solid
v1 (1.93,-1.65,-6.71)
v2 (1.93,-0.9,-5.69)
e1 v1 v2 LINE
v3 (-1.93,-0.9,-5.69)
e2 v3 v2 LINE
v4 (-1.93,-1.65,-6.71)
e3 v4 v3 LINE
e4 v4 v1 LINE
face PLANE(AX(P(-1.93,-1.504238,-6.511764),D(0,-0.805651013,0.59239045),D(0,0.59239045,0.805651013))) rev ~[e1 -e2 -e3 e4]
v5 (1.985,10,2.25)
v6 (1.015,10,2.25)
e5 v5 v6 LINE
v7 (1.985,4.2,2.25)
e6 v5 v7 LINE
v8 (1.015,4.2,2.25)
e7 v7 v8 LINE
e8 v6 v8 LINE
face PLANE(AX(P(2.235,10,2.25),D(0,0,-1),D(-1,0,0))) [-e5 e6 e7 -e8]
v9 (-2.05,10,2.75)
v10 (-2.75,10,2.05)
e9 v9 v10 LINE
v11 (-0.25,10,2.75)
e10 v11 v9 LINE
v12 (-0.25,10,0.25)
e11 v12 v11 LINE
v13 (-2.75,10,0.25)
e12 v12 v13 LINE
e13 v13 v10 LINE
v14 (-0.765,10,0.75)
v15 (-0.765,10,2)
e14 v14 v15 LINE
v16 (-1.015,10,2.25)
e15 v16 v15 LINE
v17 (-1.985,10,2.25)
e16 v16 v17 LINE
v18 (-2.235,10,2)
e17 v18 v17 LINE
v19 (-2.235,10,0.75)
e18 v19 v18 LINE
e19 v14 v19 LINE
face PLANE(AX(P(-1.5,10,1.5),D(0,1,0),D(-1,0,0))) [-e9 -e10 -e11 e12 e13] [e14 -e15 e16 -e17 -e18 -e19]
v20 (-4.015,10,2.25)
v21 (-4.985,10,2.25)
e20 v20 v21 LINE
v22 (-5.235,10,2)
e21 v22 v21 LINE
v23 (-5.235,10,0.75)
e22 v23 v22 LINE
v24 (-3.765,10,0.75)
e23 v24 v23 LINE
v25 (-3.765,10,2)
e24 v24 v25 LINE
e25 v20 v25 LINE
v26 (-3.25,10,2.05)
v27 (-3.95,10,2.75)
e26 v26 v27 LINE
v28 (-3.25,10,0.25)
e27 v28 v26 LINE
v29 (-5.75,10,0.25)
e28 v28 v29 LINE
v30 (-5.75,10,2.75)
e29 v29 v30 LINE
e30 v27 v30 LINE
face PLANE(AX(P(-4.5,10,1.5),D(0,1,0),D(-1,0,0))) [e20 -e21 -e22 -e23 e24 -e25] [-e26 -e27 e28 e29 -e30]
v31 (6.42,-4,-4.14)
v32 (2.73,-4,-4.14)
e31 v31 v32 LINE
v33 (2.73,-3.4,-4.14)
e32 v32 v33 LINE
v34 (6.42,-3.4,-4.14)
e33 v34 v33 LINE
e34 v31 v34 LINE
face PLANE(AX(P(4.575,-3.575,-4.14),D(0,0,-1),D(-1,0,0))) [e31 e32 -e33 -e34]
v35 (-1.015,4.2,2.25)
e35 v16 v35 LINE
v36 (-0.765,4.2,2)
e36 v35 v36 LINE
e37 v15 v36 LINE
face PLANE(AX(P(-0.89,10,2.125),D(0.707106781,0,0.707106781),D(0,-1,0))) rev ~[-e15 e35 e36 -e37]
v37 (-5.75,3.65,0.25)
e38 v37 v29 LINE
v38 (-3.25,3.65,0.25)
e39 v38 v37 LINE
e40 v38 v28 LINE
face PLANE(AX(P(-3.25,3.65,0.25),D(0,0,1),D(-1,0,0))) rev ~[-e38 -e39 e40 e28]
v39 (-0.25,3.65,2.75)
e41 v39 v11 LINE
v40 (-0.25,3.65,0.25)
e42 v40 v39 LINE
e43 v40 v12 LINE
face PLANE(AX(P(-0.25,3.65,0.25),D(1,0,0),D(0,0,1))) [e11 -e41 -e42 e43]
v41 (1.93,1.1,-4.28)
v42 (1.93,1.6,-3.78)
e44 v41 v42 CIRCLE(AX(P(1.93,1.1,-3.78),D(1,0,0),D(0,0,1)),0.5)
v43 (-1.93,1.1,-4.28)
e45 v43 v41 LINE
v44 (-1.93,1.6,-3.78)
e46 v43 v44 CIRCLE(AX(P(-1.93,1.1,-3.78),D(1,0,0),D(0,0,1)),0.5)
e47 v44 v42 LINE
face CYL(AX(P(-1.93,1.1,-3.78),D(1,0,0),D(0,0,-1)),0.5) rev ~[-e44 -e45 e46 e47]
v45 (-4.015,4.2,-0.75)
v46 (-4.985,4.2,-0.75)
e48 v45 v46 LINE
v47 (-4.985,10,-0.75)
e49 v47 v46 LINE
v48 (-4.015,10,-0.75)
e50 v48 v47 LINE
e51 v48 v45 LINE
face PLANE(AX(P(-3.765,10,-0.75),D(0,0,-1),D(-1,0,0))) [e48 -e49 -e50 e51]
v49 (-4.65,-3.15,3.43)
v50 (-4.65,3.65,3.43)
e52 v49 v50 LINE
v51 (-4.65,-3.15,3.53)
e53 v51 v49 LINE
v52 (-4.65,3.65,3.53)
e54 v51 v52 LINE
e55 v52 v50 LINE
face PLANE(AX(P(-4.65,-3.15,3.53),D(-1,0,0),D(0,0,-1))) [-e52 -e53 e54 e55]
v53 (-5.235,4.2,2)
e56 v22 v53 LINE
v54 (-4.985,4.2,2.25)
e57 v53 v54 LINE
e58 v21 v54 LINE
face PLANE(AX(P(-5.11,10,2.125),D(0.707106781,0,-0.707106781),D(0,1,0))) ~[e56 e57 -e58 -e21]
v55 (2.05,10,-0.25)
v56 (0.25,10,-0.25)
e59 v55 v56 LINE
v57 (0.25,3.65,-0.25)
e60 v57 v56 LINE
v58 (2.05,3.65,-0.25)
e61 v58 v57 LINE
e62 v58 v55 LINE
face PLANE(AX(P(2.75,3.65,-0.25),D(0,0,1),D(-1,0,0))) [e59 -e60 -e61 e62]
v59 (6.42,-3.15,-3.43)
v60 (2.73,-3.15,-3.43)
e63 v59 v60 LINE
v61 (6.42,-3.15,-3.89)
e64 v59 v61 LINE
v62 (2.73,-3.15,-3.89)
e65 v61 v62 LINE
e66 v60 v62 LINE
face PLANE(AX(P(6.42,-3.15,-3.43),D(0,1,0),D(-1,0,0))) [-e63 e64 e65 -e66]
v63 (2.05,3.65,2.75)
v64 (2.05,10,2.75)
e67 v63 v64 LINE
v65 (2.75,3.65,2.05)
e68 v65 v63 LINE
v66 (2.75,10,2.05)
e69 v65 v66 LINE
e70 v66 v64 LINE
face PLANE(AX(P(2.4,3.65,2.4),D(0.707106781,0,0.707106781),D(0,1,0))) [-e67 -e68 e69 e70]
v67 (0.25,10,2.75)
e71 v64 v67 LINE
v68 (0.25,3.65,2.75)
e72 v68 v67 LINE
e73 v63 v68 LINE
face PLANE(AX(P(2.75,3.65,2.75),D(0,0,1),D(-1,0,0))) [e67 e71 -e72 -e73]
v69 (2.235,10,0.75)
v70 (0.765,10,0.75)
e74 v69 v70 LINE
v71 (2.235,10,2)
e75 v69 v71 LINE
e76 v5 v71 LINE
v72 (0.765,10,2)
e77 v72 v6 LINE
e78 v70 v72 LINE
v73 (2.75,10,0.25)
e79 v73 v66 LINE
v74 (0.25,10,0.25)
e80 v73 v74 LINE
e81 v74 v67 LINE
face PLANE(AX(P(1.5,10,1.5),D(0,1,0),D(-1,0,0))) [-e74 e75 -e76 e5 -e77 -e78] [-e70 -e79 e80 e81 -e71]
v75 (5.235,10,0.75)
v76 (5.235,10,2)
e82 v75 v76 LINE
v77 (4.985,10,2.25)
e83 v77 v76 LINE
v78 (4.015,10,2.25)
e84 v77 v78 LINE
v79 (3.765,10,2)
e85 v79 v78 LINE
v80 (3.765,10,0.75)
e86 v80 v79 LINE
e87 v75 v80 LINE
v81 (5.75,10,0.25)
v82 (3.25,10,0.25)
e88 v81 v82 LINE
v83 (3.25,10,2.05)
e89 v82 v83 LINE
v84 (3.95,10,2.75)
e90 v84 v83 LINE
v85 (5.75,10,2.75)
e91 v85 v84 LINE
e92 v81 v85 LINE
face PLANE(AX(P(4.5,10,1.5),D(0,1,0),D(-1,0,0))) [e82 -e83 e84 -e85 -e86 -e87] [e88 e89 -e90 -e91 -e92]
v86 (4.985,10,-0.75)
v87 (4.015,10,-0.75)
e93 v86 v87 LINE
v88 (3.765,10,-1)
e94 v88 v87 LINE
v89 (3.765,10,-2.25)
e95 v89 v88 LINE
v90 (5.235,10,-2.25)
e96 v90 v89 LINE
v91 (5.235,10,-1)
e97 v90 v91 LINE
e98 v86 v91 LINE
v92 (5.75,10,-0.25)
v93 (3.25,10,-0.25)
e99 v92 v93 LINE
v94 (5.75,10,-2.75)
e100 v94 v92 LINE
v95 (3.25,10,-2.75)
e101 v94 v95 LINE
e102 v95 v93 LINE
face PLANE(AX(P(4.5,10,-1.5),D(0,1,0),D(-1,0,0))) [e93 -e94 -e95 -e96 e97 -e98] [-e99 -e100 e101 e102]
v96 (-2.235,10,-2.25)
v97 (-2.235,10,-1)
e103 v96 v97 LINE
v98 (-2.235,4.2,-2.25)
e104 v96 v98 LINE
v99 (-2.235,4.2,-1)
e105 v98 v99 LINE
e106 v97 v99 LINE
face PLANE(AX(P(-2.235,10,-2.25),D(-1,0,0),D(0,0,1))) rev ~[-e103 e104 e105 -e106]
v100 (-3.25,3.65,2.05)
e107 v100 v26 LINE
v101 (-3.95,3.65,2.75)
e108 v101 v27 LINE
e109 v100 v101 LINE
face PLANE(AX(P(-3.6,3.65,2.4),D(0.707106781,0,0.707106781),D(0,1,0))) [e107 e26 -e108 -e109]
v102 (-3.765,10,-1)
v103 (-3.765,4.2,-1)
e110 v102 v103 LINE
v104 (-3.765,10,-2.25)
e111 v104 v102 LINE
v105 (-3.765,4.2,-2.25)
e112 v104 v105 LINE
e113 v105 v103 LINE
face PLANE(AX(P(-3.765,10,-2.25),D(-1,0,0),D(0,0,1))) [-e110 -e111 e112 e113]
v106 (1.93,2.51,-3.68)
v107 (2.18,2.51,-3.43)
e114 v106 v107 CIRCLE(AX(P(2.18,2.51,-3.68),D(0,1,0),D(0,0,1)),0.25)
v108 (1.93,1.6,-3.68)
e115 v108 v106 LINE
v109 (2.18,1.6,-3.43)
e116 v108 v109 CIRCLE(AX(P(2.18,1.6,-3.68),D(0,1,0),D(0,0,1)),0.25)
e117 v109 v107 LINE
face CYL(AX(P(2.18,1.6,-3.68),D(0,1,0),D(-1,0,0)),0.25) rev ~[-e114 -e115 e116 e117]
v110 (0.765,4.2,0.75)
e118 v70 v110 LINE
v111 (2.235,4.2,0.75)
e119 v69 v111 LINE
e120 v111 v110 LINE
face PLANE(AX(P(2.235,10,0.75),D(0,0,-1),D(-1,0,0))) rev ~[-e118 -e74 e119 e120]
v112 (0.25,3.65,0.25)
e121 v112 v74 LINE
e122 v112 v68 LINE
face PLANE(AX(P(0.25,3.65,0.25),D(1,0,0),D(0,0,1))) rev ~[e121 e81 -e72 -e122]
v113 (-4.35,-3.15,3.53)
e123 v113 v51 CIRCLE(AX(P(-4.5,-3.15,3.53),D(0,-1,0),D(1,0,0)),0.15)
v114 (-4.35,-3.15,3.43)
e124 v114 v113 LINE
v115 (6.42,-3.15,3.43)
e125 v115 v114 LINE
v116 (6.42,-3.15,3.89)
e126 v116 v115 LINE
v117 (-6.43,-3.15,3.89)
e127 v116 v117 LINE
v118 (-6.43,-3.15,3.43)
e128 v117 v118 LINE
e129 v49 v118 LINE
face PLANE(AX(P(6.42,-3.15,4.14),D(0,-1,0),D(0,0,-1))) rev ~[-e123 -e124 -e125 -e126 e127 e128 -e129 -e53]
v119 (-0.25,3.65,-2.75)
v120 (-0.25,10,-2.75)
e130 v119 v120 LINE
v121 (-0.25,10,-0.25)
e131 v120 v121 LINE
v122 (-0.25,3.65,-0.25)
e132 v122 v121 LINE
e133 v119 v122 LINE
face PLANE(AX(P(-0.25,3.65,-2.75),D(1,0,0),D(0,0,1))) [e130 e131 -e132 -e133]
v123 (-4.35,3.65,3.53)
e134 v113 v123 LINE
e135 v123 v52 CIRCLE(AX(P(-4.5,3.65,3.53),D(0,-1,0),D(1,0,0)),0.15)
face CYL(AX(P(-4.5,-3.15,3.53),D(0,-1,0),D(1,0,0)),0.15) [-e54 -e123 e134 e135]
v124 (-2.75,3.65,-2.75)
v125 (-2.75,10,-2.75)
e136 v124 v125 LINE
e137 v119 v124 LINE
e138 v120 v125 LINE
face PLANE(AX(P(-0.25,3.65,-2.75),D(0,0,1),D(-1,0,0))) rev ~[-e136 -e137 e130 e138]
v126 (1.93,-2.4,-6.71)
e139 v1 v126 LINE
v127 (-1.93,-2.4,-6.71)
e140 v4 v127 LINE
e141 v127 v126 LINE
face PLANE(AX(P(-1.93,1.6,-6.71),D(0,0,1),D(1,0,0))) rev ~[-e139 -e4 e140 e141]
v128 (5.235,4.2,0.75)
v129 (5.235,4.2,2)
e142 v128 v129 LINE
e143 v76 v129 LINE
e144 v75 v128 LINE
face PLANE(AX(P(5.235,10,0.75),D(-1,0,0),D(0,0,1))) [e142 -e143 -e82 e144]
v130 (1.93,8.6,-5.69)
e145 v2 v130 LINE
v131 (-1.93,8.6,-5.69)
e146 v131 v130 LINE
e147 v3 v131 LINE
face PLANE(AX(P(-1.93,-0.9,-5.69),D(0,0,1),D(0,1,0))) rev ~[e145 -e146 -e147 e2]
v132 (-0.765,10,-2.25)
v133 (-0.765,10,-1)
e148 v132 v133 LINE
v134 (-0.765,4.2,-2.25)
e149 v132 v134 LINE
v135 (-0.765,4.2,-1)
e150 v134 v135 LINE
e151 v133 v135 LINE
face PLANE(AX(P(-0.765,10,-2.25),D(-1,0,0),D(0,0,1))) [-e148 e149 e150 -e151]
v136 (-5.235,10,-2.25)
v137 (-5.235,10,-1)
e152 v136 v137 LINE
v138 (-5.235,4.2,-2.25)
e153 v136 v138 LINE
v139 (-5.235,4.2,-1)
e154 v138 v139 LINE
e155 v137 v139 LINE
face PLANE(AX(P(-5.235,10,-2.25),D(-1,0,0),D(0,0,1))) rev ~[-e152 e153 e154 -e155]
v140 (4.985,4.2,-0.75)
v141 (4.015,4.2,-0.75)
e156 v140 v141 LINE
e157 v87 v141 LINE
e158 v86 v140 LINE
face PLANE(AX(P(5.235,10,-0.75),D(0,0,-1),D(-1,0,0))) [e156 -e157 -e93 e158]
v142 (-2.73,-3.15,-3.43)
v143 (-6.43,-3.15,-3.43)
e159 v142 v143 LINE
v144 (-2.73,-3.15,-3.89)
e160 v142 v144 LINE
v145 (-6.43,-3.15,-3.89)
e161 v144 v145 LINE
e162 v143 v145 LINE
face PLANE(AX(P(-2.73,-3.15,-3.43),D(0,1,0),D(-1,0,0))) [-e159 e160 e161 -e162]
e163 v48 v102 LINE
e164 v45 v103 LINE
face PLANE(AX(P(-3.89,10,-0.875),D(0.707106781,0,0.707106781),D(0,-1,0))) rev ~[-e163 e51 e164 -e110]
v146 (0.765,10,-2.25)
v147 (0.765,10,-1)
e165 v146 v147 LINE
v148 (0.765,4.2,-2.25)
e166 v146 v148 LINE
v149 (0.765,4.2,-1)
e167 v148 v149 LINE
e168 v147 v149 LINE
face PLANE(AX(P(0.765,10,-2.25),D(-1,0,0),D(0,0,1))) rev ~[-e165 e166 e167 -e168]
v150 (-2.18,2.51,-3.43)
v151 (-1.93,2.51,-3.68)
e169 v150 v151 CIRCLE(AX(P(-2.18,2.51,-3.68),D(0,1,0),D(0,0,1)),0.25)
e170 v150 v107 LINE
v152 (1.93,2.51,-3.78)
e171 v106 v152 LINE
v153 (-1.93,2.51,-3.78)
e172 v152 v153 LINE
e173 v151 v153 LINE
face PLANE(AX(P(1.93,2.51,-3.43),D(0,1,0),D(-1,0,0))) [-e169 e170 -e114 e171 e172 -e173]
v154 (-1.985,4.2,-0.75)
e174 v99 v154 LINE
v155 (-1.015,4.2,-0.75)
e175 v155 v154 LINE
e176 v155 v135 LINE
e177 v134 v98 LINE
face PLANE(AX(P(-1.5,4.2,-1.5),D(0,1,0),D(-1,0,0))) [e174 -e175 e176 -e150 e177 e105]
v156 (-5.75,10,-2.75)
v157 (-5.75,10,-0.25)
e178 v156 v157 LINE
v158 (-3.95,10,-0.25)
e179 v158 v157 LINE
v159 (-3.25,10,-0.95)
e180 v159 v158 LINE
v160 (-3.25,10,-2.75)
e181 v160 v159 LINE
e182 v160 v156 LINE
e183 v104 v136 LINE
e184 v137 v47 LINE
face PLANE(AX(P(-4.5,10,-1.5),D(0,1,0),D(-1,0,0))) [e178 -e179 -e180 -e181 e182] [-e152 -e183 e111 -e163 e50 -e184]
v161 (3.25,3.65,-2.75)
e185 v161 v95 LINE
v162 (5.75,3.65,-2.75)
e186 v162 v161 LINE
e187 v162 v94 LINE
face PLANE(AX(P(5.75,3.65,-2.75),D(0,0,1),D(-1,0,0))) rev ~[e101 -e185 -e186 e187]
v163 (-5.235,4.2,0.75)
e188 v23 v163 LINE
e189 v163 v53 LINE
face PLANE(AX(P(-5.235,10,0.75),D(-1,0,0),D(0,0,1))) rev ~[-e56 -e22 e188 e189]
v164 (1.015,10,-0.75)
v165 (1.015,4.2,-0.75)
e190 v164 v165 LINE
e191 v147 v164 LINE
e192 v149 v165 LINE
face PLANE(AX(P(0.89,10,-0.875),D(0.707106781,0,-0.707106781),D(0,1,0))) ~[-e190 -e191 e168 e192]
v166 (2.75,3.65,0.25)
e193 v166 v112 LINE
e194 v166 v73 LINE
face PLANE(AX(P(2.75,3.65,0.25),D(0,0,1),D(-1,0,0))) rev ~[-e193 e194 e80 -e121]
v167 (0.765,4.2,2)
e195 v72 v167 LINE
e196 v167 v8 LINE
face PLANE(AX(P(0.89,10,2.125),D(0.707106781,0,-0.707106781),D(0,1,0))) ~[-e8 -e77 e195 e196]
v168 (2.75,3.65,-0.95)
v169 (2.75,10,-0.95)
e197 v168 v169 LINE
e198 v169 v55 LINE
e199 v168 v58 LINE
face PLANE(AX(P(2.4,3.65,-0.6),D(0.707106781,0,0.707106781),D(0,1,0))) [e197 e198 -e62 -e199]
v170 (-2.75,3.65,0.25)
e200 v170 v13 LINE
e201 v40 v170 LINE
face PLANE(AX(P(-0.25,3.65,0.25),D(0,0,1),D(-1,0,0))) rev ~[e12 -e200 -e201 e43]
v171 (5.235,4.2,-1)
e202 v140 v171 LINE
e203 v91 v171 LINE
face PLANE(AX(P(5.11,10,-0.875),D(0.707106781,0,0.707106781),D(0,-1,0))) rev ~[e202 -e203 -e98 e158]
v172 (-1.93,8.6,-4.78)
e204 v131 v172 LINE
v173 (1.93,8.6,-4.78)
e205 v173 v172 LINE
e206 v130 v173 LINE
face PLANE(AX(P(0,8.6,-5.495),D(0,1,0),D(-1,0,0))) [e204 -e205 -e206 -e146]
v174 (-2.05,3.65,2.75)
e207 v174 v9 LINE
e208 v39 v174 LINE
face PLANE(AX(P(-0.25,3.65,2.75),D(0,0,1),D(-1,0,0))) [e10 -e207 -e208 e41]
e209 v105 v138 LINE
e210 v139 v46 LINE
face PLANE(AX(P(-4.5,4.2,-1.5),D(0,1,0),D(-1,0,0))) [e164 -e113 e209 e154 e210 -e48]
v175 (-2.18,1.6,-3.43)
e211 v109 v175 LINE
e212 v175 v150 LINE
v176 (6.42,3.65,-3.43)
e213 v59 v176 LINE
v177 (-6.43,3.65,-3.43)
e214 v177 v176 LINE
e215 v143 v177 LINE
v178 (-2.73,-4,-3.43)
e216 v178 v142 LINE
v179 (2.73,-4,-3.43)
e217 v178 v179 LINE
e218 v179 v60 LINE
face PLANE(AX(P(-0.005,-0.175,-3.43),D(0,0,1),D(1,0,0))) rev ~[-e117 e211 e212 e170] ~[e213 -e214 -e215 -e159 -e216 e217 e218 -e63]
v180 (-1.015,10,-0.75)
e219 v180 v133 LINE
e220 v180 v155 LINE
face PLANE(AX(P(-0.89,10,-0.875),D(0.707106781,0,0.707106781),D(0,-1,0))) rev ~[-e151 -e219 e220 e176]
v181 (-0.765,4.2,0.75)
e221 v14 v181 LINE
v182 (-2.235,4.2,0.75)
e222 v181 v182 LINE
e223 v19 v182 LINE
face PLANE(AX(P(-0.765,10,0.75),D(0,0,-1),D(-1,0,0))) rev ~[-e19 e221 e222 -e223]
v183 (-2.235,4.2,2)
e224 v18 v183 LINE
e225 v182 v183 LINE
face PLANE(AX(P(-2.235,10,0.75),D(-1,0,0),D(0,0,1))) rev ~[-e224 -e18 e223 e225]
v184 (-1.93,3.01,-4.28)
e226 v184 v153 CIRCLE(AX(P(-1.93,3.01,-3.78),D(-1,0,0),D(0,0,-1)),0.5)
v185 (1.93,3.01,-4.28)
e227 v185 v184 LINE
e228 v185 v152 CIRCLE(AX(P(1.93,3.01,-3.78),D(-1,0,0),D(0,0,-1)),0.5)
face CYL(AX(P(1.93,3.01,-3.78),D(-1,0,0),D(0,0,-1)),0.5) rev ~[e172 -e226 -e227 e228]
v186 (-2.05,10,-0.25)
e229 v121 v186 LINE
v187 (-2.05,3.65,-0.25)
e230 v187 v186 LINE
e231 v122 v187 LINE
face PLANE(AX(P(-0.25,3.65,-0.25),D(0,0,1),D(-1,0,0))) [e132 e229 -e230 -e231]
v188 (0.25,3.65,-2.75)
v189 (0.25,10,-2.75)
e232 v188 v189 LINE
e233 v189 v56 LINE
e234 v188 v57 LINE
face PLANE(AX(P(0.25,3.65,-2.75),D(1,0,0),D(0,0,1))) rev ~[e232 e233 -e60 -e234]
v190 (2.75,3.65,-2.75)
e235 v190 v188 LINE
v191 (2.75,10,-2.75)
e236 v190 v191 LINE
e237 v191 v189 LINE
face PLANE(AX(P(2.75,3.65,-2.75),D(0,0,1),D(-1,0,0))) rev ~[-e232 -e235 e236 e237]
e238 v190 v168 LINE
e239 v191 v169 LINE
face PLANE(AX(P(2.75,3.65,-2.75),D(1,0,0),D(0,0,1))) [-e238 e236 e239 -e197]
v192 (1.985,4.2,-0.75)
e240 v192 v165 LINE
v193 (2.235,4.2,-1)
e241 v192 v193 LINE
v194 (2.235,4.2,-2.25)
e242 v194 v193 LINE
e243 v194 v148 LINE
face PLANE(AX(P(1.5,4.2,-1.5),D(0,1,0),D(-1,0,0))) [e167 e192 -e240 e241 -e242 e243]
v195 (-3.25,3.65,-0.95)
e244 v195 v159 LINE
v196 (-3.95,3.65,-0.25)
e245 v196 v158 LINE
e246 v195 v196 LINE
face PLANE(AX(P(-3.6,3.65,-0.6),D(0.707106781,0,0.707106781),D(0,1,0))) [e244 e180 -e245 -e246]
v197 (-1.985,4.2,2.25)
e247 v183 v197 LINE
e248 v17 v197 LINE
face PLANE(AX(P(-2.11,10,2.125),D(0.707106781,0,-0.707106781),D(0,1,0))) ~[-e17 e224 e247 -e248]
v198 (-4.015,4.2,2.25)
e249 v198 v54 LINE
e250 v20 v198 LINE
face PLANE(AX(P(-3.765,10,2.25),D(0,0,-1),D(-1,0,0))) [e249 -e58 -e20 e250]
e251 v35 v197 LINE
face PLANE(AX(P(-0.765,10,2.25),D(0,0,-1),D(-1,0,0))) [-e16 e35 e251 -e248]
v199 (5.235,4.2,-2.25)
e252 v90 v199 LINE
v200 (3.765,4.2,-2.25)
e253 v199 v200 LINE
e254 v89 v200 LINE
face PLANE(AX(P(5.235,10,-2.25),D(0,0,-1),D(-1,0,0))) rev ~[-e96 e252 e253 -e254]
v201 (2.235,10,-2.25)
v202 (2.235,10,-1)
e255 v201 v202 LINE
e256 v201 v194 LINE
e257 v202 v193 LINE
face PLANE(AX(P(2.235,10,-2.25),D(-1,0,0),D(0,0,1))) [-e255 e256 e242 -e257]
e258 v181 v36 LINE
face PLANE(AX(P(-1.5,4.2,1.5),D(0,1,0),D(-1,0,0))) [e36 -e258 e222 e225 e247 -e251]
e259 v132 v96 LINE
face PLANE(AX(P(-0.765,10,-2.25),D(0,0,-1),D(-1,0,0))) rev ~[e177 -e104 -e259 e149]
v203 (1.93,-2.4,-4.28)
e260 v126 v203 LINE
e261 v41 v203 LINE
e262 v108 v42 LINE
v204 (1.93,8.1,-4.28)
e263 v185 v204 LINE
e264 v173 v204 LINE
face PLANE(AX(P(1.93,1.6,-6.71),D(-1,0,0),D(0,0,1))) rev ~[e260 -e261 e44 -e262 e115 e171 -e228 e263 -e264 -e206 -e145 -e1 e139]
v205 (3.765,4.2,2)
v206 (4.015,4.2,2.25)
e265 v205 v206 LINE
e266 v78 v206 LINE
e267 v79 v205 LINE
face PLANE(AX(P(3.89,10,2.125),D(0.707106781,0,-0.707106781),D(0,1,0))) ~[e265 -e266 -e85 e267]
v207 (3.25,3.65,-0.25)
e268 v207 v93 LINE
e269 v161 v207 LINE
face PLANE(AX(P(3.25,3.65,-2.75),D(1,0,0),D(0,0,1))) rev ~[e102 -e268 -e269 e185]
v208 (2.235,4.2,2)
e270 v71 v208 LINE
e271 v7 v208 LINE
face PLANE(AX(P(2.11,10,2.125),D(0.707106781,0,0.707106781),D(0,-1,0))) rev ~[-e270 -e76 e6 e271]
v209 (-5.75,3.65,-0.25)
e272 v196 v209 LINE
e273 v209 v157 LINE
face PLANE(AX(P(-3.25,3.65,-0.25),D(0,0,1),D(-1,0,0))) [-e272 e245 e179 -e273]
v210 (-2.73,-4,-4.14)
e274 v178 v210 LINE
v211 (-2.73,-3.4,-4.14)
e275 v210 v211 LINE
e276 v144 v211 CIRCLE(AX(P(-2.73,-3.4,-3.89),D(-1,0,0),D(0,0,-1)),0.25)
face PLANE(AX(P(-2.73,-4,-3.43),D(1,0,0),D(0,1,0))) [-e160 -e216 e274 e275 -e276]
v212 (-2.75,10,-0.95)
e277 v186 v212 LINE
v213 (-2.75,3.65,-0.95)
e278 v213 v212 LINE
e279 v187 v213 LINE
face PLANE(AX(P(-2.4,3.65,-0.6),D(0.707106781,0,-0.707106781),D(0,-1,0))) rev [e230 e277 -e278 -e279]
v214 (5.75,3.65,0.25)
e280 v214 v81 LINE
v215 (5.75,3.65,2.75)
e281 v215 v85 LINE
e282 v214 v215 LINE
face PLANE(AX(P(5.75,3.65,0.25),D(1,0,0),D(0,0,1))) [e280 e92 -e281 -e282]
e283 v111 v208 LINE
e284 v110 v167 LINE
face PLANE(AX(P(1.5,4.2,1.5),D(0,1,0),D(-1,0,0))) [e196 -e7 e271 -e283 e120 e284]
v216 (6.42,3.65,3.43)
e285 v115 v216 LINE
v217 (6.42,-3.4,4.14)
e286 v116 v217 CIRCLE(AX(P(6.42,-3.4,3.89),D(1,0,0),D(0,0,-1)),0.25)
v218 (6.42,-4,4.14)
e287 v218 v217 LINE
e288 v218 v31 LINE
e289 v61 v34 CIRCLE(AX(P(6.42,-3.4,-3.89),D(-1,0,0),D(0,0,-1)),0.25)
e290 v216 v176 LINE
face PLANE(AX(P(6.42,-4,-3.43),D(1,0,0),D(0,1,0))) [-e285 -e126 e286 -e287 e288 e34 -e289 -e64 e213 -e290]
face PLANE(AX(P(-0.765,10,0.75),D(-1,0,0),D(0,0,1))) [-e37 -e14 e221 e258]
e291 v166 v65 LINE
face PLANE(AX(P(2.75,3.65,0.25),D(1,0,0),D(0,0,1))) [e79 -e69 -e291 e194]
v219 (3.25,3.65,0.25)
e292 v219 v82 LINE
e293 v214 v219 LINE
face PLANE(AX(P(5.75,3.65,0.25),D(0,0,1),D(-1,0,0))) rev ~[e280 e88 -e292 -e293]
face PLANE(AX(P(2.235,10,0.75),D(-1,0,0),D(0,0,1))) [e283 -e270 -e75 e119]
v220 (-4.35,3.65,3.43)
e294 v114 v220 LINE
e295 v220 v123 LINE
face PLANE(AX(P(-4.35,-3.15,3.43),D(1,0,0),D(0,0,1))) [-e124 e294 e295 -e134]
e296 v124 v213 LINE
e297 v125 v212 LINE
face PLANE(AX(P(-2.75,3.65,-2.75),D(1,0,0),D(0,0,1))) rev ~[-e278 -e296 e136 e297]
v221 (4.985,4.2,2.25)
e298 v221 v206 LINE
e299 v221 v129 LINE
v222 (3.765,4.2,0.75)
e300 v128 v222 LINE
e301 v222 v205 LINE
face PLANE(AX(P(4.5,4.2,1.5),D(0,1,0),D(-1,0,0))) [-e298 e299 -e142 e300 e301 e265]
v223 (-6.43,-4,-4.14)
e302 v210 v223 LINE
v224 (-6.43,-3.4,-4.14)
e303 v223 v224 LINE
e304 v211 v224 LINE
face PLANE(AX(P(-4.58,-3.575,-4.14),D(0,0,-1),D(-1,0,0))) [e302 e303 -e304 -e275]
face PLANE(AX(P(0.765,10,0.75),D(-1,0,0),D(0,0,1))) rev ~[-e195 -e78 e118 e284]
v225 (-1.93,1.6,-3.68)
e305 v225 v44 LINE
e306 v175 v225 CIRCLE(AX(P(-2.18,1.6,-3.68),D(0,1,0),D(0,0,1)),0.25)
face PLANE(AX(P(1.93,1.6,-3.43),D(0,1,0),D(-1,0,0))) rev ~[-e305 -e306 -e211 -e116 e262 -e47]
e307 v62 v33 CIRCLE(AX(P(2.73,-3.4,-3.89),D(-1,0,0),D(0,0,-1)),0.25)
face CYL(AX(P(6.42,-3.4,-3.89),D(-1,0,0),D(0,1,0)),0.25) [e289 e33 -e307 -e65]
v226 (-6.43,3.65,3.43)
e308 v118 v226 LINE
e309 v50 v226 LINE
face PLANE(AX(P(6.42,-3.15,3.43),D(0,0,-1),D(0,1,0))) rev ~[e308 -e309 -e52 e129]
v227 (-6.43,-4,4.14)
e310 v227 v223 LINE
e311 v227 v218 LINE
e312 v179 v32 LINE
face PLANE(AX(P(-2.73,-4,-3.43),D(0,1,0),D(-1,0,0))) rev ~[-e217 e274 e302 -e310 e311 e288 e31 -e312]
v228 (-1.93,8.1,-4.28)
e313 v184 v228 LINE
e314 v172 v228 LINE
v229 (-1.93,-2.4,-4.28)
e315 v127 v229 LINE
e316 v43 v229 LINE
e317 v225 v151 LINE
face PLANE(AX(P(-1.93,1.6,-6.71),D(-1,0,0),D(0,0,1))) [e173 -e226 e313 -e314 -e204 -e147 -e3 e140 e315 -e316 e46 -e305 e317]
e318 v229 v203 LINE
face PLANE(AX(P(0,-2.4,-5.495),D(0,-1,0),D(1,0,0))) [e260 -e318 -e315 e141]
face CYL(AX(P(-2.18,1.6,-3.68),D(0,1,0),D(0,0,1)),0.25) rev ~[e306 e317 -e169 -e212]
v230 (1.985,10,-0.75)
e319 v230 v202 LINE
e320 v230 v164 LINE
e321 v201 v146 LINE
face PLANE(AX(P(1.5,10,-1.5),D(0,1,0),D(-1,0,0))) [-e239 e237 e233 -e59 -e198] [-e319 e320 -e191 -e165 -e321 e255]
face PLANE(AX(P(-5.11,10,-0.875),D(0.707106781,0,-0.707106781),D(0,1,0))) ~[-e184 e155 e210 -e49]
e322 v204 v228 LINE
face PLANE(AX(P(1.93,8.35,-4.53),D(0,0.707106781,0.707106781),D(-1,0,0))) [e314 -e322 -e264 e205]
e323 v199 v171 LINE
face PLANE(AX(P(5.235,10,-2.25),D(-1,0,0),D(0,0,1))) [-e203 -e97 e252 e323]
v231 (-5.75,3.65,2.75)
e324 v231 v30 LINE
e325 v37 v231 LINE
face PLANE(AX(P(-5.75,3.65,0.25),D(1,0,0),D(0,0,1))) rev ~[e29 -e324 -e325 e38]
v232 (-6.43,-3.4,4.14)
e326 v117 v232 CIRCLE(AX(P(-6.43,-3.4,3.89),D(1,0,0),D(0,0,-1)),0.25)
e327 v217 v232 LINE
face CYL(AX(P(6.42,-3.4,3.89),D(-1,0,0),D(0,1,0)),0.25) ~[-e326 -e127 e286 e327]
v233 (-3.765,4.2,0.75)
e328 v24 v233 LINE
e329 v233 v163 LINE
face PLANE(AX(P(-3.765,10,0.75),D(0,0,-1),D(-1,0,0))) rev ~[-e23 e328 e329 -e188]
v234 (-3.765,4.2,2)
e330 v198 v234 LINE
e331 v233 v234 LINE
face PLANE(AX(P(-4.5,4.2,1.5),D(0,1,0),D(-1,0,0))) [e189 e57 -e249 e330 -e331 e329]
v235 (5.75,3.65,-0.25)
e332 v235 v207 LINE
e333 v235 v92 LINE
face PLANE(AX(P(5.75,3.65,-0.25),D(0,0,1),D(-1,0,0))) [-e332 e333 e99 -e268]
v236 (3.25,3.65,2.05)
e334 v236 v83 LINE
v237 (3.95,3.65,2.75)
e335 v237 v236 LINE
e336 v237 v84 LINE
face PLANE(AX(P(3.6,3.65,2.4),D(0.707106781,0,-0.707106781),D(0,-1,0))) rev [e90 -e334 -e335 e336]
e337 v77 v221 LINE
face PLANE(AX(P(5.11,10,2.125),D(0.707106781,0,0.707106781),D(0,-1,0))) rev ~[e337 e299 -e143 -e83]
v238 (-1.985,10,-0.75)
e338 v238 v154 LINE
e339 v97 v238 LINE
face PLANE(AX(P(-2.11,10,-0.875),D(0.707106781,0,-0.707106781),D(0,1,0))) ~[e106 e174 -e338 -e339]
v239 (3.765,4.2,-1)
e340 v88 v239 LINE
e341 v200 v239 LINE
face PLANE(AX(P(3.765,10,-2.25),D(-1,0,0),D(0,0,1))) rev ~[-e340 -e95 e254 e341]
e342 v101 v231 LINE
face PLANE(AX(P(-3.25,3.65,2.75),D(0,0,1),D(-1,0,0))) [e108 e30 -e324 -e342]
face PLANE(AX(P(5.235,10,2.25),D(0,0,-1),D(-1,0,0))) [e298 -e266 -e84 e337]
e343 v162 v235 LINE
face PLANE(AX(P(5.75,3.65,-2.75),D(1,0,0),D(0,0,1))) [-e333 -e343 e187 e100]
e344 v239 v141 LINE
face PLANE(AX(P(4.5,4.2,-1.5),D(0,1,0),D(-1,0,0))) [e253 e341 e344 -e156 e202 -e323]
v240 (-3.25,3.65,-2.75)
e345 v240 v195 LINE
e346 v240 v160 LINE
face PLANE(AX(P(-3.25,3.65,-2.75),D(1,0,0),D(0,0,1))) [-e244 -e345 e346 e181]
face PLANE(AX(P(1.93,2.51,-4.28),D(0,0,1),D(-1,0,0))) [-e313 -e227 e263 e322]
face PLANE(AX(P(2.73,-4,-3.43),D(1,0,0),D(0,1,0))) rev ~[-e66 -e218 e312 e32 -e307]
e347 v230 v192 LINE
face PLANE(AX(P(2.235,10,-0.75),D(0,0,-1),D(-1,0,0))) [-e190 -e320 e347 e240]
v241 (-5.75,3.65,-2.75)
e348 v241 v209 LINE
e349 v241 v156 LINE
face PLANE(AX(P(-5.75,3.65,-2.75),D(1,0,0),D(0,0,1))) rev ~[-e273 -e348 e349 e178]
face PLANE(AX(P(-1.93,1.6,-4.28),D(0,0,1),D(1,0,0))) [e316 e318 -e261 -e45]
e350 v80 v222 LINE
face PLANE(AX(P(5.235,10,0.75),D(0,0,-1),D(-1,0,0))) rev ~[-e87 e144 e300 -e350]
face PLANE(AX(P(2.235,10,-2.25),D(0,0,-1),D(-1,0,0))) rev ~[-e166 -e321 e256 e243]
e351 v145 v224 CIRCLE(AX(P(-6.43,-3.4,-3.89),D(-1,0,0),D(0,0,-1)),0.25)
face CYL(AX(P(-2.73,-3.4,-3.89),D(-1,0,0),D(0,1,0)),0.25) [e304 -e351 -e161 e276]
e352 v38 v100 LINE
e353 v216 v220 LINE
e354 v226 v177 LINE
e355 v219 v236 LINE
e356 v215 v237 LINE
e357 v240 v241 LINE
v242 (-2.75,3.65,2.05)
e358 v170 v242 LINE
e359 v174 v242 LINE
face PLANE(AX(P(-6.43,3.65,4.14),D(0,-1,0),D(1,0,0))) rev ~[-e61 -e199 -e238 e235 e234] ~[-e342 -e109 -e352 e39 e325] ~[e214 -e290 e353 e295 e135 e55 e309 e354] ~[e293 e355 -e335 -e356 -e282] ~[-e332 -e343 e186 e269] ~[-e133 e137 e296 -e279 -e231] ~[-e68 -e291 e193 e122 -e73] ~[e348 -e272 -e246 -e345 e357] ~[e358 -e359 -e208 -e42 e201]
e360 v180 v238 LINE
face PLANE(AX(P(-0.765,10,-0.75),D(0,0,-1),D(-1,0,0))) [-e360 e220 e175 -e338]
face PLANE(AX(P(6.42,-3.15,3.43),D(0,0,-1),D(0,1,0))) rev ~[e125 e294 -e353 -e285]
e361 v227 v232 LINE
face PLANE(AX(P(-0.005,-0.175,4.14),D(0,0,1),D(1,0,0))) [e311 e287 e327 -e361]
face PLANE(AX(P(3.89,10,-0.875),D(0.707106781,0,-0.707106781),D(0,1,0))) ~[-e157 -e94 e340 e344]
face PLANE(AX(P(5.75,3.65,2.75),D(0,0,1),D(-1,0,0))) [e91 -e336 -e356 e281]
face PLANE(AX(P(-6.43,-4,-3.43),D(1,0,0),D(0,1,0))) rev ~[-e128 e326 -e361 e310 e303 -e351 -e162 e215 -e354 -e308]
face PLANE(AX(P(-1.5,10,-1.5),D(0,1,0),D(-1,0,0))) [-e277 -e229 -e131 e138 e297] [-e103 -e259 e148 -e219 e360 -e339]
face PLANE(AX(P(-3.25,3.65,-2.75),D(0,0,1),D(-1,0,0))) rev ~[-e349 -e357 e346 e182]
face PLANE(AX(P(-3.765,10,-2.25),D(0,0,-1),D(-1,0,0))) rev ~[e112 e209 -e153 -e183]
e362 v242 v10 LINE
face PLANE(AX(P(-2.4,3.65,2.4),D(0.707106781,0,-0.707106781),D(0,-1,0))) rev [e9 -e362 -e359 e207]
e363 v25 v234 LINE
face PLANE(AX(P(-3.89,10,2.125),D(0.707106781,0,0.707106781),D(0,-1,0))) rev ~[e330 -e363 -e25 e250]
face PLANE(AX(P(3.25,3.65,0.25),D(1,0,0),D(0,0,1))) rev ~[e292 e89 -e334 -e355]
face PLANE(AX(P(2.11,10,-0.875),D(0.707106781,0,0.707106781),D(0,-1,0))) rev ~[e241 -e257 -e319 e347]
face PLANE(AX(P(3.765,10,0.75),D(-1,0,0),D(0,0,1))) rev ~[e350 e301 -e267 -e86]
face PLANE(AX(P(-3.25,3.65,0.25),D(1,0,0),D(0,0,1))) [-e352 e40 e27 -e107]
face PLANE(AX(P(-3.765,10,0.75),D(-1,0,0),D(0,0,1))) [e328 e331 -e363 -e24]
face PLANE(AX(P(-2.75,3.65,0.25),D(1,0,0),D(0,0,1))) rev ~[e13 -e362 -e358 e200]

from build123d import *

# Parameters (mm, degrees)
SKETCH1_W            = 12.85
SKETCH1_H            = 7.65
BOSS_EXTRUDE1_DEPTH  = 7.57
SKETCH2_W            = 3.86
SKETCH2_H            = 0.91
BOSS_EXTRUDE2_DEPTH  = 3.28
SKETCH3_W            = 3.86
SKETCH3_H            = 2.43
BOSS_EXTRUDE3_DEPTH  = 6.09
SKETCH4_W            = 3.86
SKETCH4_H            = 2.43
BOSS_EXTRUDE4_DEPTH  = 4
SKETCH5_W            = 1.02
SKETCH5_H            = 9.5
CUT_EXTRUDE1_DEPTH   = 9.35
SKETCH6_W            = 0.71
SKETCH6_H            = 6.8
CUT_EXTRUDE2_DEPTH   = 13.85
BOSS_EXTRUDE5_DEPTH  = 6.8
SKETCH8_W            = 3.69
SKETCH8_H            = 0.85
BOSS_EXTRUDE6_DEPTH  = 0.71
SKETCH9_W            = 3.7
SKETCH9_H            = 0.85
BOSS_EXTRUDE7_DEPTH  = 0.71
SKETCH10_W           = 2.5
SKETCH10_H           = 2.5
BOSS_EXTRUDE8_DEPTH  = 6.35
SKETCH11_W           = 1.47
SKETCH11_H           = 1.5
CUT_EXTRUDE3_DEPTH   = 5.8
SKETCH12_W           = 2.5
SKETCH12_H           = 2.5
BOSS_EXTRUDE9_DEPTH  = 6.35
SKETCH13_W           = 1.47
SKETCH13_H           = 1.5
CUT_EXTRUDE4_DEPTH   = 5.8
SKETCH14_W           = 2.5
SKETCH14_H           = 2.5
BOSS_EXTRUDE10_DEPTH = 6.35
SKETCH15_W           = 1.47
SKETCH15_H           = 1.5
CUT_EXTRUDE5_DEPTH   = 5.8
SKETCH16_W           = 2.5
SKETCH16_H           = 2.5
BOSS_EXTRUDE11_DEPTH = 6.35
SKETCH17_W           = 1.47
SKETCH17_H           = 1.5
CUT_EXTRUDE6_DEPTH   = 5.8
SKETCH18_W           = 2.5
SKETCH18_H           = 2.5
BOSS_EXTRUDE12_DEPTH = 6.35
SKETCH19_W           = 1.47
SKETCH19_H           = 1.5
CUT_EXTRUDE7_DEPTH   = 5.8
SKETCH20_W           = 2.5
SKETCH20_H           = 2.5
BOSS_EXTRUDE13_DEPTH = 6.35
SKETCH21_W           = 1.47
SKETCH21_H           = 1.5
CUT_EXTRUDE8_DEPTH   = 5.8
SKETCH22_W           = 2.5
SKETCH22_H           = 2.5
BOSS_EXTRUDE14_DEPTH = 6.35
SKETCH23_W           = 1.47
SKETCH23_H           = 1.5
CUT_EXTRUDE9_DEPTH   = 5.8
SKETCH24_W           = 2.5
SKETCH24_H           = 2.5
BOSS_EXTRUDE15_DEPTH = 6.35
SKETCH25_W           = 1.47
SKETCH25_H           = 1.5
CUT_EXTRUDE10_DEPTH  = 5.8
DRAFT1_ANGLE         = 36.326825952
CHAMFER1_SIZE        = 0.25
CHAMFER2_SIZE        = 0.7
CHAMFER3_SIZE        = 0.5
FILLET1_R            = 0.25
FILLET2_R            = 0.5


with BuildPart() as part:
    # Sketch1 → Boss-Extrude1 (new body)
    with BuildSketch(Plane.XY.offset(4.14)):
        with Locations((-0.005, -0.175)):
            Rectangle(SKETCH1_W, SKETCH1_H)
    extrude(amount=-BOSS_EXTRUDE1_DEPTH)

    # Sketch2 → Boss-Extrude2 (add)
    with BuildSketch(Plane(origin=(0, 0, -3.43), x_dir=(-1, 0, 0), z_dir=(0, 0, -1))):
        with Locations((0, 2.055)):
            Rectangle(SKETCH2_W, SKETCH2_H)
    extrude(amount=BOSS_EXTRUDE2_DEPTH)

    # Sketch3 → Boss-Extrude3 (add)
    with BuildSketch(Plane(origin=(0, 2.51, 0), x_dir=(-1, 0, 0), z_dir=(0, 1, 0))):
        with Locations((0, -5.495)):
            Rectangle(SKETCH3_W, SKETCH3_H)
    extrude(amount=BOSS_EXTRUDE3_DEPTH)

    # Sketch4 → Boss-Extrude4 (add)
    with BuildSketch(Plane.XZ.offset(-1.6)):
        with Locations((0, -5.495)):
            Rectangle(SKETCH4_W, SKETCH4_H)
    extrude(amount=BOSS_EXTRUDE4_DEPTH)

    # Sketch5 → Cut-Extrude1 (cut, through all)
    with BuildSketch(Plane.ZY.offset(1.93)):
        with Locations((-6.2, 3.85)):
            Rectangle(SKETCH5_W, SKETCH5_H)
    extrude(amount=-CUT_EXTRUDE1_DEPTH, mode=Mode.SUBTRACT)

    # Sketch6 → Cut-Extrude2 (cut, through all)
    with BuildSketch(Plane(origin=(6.42, 0, 0), x_dir=(0, 0, -1), z_dir=(1, 0, 0))):
        with Locations((-3.785, 0.25)):
            Rectangle(SKETCH6_W, SKETCH6_H)
    extrude(amount=-CUT_EXTRUDE2_DEPTH, mode=Mode.SUBTRACT)

    # Sketch7 → Boss-Extrude5 (add)
    with BuildSketch(Plane(origin=(0, -3.15, 0), x_dir=(-1, 0, 0), z_dir=(0, 1, 0))):
        with BuildLine():
            Line((4.35, 3.43), (4.35, 3.53))
            ThreePointArc((4.35, 3.53), (4.5, 3.68), (4.65, 3.53))
            Line((4.65, 3.53), (4.65, 3.43))
            Line((4.65, 3.43), (4.35, 3.43))
        make_face()
    extrude(amount=BOSS_EXTRUDE5_DEPTH)

    # Sketch8 → Boss-Extrude6 (add)
    with BuildSketch(Plane(origin=(0, 0, -3.43), x_dir=(-1, 0, 0), z_dir=(0, 0, -1))):
        with Locations((-4.575, -3.575)):
            Rectangle(SKETCH8_W, SKETCH8_H)
    extrude(amount=BOSS_EXTRUDE6_DEPTH)

    # Sketch9 → Boss-Extrude7 (add)
    with BuildSketch(Plane(origin=(0, 0, -3.43), x_dir=(-1, 0, 0), z_dir=(0, 0, -1))):
        with Locations((4.58, -3.575)):
            Rectangle(SKETCH9_W, SKETCH9_H)
    extrude(amount=BOSS_EXTRUDE7_DEPTH)

    # Sketch10 → Boss-Extrude8 (add)
    with BuildSketch(Plane(origin=(0, 3.65, 0), x_dir=(-1, 0, 0), z_dir=(0, 1, 0))):
        with Locations((4.5, -1.5)):
            Rectangle(SKETCH10_W, SKETCH10_H)
    extrude(amount=BOSS_EXTRUDE8_DEPTH)

    # Sketch11 → Cut-Extrude3 (cut)
    with BuildSketch(Plane(origin=(0, 10, 0), x_dir=(-1, 0, 0), z_dir=(0, 1, 0))):
        with Locations((4.5, -1.5)):
            Rectangle(SKETCH11_W, SKETCH11_H)
    extrude(amount=-CUT_EXTRUDE3_DEPTH, mode=Mode.SUBTRACT)

    # Sketch12 → Boss-Extrude9 (add)
    with BuildSketch(Plane(origin=(0, 3.65, 0), x_dir=(-1, 0, 0), z_dir=(0, 1, 0))):
        with Locations((4.5, 1.5)):
            Rectangle(SKETCH12_W, SKETCH12_H)
    extrude(amount=BOSS_EXTRUDE9_DEPTH)

    # Sketch13 → Cut-Extrude4 (cut)
    with BuildSketch(Plane(origin=(0, 10, 0), x_dir=(-1, 0, 0), z_dir=(0, 1, 0))):
        with Locations((4.5, 1.5)):
            Rectangle(SKETCH13_W, SKETCH13_H)
    extrude(amount=-CUT_EXTRUDE4_DEPTH, mode=Mode.SUBTRACT)

    # Sketch14 → Boss-Extrude10 (add)
    with BuildSketch(Plane(origin=(0, 3.65, 0), x_dir=(-1, 0, 0), z_dir=(0, 1, 0))):
        with Locations((1.5, 1.5)):
            Rectangle(SKETCH14_W, SKETCH14_H)
    extrude(amount=BOSS_EXTRUDE10_DEPTH)

    # Sketch15 → Cut-Extrude5 (cut)
    with BuildSketch(Plane(origin=(0, 10, 0), x_dir=(-1, 0, 0), z_dir=(0, 1, 0))):
        with Locations((1.5, 1.5)):
            Rectangle(SKETCH15_W, SKETCH15_H)
    extrude(amount=-CUT_EXTRUDE5_DEPTH, mode=Mode.SUBTRACT)

    # Sketch16 → Boss-Extrude11 (add)
    with BuildSketch(Plane(origin=(0, 3.65, 0), x_dir=(-1, 0, 0), z_dir=(0, 1, 0))):
        with Locations((1.5, -1.5)):
            Rectangle(SKETCH16_W, SKETCH16_H)
    extrude(amount=BOSS_EXTRUDE11_DEPTH)

    # Sketch17 → Cut-Extrude6 (cut)
    with BuildSketch(Plane(origin=(0, 10, 0), x_dir=(-1, 0, 0), z_dir=(0, 1, 0))):
        with Locations((1.5, -1.5)):
            Rectangle(SKETCH17_W, SKETCH17_H)
    extrude(amount=-CUT_EXTRUDE6_DEPTH, mode=Mode.SUBTRACT)

    # Sketch18 → Boss-Extrude12 (add)
    with BuildSketch(Plane(origin=(0, 3.65, 0), x_dir=(-1, 0, 0), z_dir=(0, 1, 0))):
        with Locations((-1.5, -1.5)):
            Rectangle(SKETCH18_W, SKETCH18_H)
    extrude(amount=BOSS_EXTRUDE12_DEPTH)

    # Sketch19 → Cut-Extrude7 (cut)
    with BuildSketch(Plane(origin=(0, 10, 0), x_dir=(-1, 0, 0), z_dir=(0, 1, 0))):
        with Locations((-1.5, -1.5)):
            Rectangle(SKETCH19_W, SKETCH19_H)
    extrude(amount=-CUT_EXTRUDE7_DEPTH, mode=Mode.SUBTRACT)

    # Sketch20 → Boss-Extrude13 (add)
    with BuildSketch(Plane(origin=(0, 3.65, 0), x_dir=(-1, 0, 0), z_dir=(0, 1, 0))):
        with Locations((-1.5, 1.5)):
            Rectangle(SKETCH20_W, SKETCH20_H)
    extrude(amount=BOSS_EXTRUDE13_DEPTH)

    # Sketch21 → Cut-Extrude8 (cut)
    with BuildSketch(Plane(origin=(0, 10, 0), x_dir=(-1, 0, 0), z_dir=(0, 1, 0))):
        with Locations((-1.5, 1.5)):
            Rectangle(SKETCH21_W, SKETCH21_H)
    extrude(amount=-CUT_EXTRUDE8_DEPTH, mode=Mode.SUBTRACT)

    # Sketch22 → Boss-Extrude14 (add)
    with BuildSketch(Plane(origin=(0, 3.65, 0), x_dir=(-1, 0, 0), z_dir=(0, 1, 0))):
        with Locations((-4.5, 1.5)):
            Rectangle(SKETCH22_W, SKETCH22_H)
    extrude(amount=BOSS_EXTRUDE14_DEPTH)

    # Sketch23 → Cut-Extrude9 (cut)
    with BuildSketch(Plane(origin=(0, 10, 0), x_dir=(-1, 0, 0), z_dir=(0, 1, 0))):
        with Locations((-4.5, 1.5)):
            Rectangle(SKETCH23_W, SKETCH23_H)
    extrude(amount=-CUT_EXTRUDE9_DEPTH, mode=Mode.SUBTRACT)

    # Sketch24 → Boss-Extrude15 (add)
    with BuildSketch(Plane(origin=(0, 3.65, 0), x_dir=(-1, 0, 0), z_dir=(0, 1, 0))):
        with Locations((-4.5, -1.5)):
            Rectangle(SKETCH24_W, SKETCH24_H)
    extrude(amount=BOSS_EXTRUDE15_DEPTH)

    # Sketch25 → Cut-Extrude10 (cut)
    with BuildSketch(Plane(origin=(0, 10, 0), x_dir=(-1, 0, 0), z_dir=(0, 1, 0))):
        with Locations((-4.5, -1.5)):
            Rectangle(SKETCH25_W, SKETCH25_H)
    extrude(amount=-CUT_EXTRUDE10_DEPTH, mode=Mode.SUBTRACT)

    # Draft1
    draft1_faces = [part.faces().sort_by_distance(p)[0] for p in [
        (0, -0.9, -6.2),
    ]]
    draft(draft1_faces, Plane(origin=(6.42, -0.9, -5.69), x_dir=(-1, 0, 0), z_dir=(0, 0, -1)), DRAFT1_ANGLE)

    # Chamfer1
    chamfer1_edges = [part.edges().sort_by_distance(p)[0] for p in [
        (-3.765, 7.1, -0.75),
        (-5.235, 7.1, -0.75),
        (-3.765, 7.1, 2.25),
        (-5.235, 7.1, 2.25),
        (-0.765, 7.1, 2.25),
        (-2.235, 7.1, 2.25),
        (-0.765, 7.1, -0.75),
        (-2.235, 7.1, -0.75),
        (2.235, 7.1, -0.75),
        (0.765, 7.1, -0.75),
        (2.235, 7.1, 2.25),
        (0.765, 7.1, 2.25),
        (5.235, 7.1, 2.25),
        (3.765, 7.1, 2.25),
        (5.235, 7.1, -0.75),
        (3.765, 7.1, -0.75),
    ]]
    chamfer(chamfer1_edges, length=CHAMFER1_SIZE)

    # Chamfer2
    chamfer2_edges = [part.edges().sort_by_distance(p)[0] for p in [
        (-3.25, 6.825, -0.25),
        (-3.25, 6.825, 2.75),
        (-2.75, 6.825, 2.75),
        (-2.75, 6.825, -0.25),
        (2.75, 6.825, -0.25),
        (2.75, 6.825, 2.75),
        (3.25, 6.825, 2.75),
    ]]
    chamfer(chamfer2_edges, length=CHAMFER2_SIZE)

    # Chamfer3
    chamfer3_edges = [part.edges().sort_by_distance(p)[0] for p in [
        (0, 8.6, -4.28),
    ]]
    chamfer(chamfer3_edges, length=CHAMFER3_SIZE)

    # Fillet1
    fillet1_edges = [part.edges().sort_by_distance(p)[0] for p in [
        (4.575, -3.15, -4.14),
        (-4.58, -3.15, -4.14),
        (-1.93, 2.055, -3.43),
        (1.93, 2.055, -3.43),
        (-0.005, -3.15, 4.14),
    ]]
    fillet(fillet1_edges, radius=FILLET1_R)

    # Fillet2
    fillet2_edges = [part.edges().sort_by_distance(p)[0] for p in [
        (0, 2.51, -4.28),
        (0, 1.6, -4.28),
    ]]
    fillet(fillet2_edges, radius=FILLET2_R)


solid = part.part
